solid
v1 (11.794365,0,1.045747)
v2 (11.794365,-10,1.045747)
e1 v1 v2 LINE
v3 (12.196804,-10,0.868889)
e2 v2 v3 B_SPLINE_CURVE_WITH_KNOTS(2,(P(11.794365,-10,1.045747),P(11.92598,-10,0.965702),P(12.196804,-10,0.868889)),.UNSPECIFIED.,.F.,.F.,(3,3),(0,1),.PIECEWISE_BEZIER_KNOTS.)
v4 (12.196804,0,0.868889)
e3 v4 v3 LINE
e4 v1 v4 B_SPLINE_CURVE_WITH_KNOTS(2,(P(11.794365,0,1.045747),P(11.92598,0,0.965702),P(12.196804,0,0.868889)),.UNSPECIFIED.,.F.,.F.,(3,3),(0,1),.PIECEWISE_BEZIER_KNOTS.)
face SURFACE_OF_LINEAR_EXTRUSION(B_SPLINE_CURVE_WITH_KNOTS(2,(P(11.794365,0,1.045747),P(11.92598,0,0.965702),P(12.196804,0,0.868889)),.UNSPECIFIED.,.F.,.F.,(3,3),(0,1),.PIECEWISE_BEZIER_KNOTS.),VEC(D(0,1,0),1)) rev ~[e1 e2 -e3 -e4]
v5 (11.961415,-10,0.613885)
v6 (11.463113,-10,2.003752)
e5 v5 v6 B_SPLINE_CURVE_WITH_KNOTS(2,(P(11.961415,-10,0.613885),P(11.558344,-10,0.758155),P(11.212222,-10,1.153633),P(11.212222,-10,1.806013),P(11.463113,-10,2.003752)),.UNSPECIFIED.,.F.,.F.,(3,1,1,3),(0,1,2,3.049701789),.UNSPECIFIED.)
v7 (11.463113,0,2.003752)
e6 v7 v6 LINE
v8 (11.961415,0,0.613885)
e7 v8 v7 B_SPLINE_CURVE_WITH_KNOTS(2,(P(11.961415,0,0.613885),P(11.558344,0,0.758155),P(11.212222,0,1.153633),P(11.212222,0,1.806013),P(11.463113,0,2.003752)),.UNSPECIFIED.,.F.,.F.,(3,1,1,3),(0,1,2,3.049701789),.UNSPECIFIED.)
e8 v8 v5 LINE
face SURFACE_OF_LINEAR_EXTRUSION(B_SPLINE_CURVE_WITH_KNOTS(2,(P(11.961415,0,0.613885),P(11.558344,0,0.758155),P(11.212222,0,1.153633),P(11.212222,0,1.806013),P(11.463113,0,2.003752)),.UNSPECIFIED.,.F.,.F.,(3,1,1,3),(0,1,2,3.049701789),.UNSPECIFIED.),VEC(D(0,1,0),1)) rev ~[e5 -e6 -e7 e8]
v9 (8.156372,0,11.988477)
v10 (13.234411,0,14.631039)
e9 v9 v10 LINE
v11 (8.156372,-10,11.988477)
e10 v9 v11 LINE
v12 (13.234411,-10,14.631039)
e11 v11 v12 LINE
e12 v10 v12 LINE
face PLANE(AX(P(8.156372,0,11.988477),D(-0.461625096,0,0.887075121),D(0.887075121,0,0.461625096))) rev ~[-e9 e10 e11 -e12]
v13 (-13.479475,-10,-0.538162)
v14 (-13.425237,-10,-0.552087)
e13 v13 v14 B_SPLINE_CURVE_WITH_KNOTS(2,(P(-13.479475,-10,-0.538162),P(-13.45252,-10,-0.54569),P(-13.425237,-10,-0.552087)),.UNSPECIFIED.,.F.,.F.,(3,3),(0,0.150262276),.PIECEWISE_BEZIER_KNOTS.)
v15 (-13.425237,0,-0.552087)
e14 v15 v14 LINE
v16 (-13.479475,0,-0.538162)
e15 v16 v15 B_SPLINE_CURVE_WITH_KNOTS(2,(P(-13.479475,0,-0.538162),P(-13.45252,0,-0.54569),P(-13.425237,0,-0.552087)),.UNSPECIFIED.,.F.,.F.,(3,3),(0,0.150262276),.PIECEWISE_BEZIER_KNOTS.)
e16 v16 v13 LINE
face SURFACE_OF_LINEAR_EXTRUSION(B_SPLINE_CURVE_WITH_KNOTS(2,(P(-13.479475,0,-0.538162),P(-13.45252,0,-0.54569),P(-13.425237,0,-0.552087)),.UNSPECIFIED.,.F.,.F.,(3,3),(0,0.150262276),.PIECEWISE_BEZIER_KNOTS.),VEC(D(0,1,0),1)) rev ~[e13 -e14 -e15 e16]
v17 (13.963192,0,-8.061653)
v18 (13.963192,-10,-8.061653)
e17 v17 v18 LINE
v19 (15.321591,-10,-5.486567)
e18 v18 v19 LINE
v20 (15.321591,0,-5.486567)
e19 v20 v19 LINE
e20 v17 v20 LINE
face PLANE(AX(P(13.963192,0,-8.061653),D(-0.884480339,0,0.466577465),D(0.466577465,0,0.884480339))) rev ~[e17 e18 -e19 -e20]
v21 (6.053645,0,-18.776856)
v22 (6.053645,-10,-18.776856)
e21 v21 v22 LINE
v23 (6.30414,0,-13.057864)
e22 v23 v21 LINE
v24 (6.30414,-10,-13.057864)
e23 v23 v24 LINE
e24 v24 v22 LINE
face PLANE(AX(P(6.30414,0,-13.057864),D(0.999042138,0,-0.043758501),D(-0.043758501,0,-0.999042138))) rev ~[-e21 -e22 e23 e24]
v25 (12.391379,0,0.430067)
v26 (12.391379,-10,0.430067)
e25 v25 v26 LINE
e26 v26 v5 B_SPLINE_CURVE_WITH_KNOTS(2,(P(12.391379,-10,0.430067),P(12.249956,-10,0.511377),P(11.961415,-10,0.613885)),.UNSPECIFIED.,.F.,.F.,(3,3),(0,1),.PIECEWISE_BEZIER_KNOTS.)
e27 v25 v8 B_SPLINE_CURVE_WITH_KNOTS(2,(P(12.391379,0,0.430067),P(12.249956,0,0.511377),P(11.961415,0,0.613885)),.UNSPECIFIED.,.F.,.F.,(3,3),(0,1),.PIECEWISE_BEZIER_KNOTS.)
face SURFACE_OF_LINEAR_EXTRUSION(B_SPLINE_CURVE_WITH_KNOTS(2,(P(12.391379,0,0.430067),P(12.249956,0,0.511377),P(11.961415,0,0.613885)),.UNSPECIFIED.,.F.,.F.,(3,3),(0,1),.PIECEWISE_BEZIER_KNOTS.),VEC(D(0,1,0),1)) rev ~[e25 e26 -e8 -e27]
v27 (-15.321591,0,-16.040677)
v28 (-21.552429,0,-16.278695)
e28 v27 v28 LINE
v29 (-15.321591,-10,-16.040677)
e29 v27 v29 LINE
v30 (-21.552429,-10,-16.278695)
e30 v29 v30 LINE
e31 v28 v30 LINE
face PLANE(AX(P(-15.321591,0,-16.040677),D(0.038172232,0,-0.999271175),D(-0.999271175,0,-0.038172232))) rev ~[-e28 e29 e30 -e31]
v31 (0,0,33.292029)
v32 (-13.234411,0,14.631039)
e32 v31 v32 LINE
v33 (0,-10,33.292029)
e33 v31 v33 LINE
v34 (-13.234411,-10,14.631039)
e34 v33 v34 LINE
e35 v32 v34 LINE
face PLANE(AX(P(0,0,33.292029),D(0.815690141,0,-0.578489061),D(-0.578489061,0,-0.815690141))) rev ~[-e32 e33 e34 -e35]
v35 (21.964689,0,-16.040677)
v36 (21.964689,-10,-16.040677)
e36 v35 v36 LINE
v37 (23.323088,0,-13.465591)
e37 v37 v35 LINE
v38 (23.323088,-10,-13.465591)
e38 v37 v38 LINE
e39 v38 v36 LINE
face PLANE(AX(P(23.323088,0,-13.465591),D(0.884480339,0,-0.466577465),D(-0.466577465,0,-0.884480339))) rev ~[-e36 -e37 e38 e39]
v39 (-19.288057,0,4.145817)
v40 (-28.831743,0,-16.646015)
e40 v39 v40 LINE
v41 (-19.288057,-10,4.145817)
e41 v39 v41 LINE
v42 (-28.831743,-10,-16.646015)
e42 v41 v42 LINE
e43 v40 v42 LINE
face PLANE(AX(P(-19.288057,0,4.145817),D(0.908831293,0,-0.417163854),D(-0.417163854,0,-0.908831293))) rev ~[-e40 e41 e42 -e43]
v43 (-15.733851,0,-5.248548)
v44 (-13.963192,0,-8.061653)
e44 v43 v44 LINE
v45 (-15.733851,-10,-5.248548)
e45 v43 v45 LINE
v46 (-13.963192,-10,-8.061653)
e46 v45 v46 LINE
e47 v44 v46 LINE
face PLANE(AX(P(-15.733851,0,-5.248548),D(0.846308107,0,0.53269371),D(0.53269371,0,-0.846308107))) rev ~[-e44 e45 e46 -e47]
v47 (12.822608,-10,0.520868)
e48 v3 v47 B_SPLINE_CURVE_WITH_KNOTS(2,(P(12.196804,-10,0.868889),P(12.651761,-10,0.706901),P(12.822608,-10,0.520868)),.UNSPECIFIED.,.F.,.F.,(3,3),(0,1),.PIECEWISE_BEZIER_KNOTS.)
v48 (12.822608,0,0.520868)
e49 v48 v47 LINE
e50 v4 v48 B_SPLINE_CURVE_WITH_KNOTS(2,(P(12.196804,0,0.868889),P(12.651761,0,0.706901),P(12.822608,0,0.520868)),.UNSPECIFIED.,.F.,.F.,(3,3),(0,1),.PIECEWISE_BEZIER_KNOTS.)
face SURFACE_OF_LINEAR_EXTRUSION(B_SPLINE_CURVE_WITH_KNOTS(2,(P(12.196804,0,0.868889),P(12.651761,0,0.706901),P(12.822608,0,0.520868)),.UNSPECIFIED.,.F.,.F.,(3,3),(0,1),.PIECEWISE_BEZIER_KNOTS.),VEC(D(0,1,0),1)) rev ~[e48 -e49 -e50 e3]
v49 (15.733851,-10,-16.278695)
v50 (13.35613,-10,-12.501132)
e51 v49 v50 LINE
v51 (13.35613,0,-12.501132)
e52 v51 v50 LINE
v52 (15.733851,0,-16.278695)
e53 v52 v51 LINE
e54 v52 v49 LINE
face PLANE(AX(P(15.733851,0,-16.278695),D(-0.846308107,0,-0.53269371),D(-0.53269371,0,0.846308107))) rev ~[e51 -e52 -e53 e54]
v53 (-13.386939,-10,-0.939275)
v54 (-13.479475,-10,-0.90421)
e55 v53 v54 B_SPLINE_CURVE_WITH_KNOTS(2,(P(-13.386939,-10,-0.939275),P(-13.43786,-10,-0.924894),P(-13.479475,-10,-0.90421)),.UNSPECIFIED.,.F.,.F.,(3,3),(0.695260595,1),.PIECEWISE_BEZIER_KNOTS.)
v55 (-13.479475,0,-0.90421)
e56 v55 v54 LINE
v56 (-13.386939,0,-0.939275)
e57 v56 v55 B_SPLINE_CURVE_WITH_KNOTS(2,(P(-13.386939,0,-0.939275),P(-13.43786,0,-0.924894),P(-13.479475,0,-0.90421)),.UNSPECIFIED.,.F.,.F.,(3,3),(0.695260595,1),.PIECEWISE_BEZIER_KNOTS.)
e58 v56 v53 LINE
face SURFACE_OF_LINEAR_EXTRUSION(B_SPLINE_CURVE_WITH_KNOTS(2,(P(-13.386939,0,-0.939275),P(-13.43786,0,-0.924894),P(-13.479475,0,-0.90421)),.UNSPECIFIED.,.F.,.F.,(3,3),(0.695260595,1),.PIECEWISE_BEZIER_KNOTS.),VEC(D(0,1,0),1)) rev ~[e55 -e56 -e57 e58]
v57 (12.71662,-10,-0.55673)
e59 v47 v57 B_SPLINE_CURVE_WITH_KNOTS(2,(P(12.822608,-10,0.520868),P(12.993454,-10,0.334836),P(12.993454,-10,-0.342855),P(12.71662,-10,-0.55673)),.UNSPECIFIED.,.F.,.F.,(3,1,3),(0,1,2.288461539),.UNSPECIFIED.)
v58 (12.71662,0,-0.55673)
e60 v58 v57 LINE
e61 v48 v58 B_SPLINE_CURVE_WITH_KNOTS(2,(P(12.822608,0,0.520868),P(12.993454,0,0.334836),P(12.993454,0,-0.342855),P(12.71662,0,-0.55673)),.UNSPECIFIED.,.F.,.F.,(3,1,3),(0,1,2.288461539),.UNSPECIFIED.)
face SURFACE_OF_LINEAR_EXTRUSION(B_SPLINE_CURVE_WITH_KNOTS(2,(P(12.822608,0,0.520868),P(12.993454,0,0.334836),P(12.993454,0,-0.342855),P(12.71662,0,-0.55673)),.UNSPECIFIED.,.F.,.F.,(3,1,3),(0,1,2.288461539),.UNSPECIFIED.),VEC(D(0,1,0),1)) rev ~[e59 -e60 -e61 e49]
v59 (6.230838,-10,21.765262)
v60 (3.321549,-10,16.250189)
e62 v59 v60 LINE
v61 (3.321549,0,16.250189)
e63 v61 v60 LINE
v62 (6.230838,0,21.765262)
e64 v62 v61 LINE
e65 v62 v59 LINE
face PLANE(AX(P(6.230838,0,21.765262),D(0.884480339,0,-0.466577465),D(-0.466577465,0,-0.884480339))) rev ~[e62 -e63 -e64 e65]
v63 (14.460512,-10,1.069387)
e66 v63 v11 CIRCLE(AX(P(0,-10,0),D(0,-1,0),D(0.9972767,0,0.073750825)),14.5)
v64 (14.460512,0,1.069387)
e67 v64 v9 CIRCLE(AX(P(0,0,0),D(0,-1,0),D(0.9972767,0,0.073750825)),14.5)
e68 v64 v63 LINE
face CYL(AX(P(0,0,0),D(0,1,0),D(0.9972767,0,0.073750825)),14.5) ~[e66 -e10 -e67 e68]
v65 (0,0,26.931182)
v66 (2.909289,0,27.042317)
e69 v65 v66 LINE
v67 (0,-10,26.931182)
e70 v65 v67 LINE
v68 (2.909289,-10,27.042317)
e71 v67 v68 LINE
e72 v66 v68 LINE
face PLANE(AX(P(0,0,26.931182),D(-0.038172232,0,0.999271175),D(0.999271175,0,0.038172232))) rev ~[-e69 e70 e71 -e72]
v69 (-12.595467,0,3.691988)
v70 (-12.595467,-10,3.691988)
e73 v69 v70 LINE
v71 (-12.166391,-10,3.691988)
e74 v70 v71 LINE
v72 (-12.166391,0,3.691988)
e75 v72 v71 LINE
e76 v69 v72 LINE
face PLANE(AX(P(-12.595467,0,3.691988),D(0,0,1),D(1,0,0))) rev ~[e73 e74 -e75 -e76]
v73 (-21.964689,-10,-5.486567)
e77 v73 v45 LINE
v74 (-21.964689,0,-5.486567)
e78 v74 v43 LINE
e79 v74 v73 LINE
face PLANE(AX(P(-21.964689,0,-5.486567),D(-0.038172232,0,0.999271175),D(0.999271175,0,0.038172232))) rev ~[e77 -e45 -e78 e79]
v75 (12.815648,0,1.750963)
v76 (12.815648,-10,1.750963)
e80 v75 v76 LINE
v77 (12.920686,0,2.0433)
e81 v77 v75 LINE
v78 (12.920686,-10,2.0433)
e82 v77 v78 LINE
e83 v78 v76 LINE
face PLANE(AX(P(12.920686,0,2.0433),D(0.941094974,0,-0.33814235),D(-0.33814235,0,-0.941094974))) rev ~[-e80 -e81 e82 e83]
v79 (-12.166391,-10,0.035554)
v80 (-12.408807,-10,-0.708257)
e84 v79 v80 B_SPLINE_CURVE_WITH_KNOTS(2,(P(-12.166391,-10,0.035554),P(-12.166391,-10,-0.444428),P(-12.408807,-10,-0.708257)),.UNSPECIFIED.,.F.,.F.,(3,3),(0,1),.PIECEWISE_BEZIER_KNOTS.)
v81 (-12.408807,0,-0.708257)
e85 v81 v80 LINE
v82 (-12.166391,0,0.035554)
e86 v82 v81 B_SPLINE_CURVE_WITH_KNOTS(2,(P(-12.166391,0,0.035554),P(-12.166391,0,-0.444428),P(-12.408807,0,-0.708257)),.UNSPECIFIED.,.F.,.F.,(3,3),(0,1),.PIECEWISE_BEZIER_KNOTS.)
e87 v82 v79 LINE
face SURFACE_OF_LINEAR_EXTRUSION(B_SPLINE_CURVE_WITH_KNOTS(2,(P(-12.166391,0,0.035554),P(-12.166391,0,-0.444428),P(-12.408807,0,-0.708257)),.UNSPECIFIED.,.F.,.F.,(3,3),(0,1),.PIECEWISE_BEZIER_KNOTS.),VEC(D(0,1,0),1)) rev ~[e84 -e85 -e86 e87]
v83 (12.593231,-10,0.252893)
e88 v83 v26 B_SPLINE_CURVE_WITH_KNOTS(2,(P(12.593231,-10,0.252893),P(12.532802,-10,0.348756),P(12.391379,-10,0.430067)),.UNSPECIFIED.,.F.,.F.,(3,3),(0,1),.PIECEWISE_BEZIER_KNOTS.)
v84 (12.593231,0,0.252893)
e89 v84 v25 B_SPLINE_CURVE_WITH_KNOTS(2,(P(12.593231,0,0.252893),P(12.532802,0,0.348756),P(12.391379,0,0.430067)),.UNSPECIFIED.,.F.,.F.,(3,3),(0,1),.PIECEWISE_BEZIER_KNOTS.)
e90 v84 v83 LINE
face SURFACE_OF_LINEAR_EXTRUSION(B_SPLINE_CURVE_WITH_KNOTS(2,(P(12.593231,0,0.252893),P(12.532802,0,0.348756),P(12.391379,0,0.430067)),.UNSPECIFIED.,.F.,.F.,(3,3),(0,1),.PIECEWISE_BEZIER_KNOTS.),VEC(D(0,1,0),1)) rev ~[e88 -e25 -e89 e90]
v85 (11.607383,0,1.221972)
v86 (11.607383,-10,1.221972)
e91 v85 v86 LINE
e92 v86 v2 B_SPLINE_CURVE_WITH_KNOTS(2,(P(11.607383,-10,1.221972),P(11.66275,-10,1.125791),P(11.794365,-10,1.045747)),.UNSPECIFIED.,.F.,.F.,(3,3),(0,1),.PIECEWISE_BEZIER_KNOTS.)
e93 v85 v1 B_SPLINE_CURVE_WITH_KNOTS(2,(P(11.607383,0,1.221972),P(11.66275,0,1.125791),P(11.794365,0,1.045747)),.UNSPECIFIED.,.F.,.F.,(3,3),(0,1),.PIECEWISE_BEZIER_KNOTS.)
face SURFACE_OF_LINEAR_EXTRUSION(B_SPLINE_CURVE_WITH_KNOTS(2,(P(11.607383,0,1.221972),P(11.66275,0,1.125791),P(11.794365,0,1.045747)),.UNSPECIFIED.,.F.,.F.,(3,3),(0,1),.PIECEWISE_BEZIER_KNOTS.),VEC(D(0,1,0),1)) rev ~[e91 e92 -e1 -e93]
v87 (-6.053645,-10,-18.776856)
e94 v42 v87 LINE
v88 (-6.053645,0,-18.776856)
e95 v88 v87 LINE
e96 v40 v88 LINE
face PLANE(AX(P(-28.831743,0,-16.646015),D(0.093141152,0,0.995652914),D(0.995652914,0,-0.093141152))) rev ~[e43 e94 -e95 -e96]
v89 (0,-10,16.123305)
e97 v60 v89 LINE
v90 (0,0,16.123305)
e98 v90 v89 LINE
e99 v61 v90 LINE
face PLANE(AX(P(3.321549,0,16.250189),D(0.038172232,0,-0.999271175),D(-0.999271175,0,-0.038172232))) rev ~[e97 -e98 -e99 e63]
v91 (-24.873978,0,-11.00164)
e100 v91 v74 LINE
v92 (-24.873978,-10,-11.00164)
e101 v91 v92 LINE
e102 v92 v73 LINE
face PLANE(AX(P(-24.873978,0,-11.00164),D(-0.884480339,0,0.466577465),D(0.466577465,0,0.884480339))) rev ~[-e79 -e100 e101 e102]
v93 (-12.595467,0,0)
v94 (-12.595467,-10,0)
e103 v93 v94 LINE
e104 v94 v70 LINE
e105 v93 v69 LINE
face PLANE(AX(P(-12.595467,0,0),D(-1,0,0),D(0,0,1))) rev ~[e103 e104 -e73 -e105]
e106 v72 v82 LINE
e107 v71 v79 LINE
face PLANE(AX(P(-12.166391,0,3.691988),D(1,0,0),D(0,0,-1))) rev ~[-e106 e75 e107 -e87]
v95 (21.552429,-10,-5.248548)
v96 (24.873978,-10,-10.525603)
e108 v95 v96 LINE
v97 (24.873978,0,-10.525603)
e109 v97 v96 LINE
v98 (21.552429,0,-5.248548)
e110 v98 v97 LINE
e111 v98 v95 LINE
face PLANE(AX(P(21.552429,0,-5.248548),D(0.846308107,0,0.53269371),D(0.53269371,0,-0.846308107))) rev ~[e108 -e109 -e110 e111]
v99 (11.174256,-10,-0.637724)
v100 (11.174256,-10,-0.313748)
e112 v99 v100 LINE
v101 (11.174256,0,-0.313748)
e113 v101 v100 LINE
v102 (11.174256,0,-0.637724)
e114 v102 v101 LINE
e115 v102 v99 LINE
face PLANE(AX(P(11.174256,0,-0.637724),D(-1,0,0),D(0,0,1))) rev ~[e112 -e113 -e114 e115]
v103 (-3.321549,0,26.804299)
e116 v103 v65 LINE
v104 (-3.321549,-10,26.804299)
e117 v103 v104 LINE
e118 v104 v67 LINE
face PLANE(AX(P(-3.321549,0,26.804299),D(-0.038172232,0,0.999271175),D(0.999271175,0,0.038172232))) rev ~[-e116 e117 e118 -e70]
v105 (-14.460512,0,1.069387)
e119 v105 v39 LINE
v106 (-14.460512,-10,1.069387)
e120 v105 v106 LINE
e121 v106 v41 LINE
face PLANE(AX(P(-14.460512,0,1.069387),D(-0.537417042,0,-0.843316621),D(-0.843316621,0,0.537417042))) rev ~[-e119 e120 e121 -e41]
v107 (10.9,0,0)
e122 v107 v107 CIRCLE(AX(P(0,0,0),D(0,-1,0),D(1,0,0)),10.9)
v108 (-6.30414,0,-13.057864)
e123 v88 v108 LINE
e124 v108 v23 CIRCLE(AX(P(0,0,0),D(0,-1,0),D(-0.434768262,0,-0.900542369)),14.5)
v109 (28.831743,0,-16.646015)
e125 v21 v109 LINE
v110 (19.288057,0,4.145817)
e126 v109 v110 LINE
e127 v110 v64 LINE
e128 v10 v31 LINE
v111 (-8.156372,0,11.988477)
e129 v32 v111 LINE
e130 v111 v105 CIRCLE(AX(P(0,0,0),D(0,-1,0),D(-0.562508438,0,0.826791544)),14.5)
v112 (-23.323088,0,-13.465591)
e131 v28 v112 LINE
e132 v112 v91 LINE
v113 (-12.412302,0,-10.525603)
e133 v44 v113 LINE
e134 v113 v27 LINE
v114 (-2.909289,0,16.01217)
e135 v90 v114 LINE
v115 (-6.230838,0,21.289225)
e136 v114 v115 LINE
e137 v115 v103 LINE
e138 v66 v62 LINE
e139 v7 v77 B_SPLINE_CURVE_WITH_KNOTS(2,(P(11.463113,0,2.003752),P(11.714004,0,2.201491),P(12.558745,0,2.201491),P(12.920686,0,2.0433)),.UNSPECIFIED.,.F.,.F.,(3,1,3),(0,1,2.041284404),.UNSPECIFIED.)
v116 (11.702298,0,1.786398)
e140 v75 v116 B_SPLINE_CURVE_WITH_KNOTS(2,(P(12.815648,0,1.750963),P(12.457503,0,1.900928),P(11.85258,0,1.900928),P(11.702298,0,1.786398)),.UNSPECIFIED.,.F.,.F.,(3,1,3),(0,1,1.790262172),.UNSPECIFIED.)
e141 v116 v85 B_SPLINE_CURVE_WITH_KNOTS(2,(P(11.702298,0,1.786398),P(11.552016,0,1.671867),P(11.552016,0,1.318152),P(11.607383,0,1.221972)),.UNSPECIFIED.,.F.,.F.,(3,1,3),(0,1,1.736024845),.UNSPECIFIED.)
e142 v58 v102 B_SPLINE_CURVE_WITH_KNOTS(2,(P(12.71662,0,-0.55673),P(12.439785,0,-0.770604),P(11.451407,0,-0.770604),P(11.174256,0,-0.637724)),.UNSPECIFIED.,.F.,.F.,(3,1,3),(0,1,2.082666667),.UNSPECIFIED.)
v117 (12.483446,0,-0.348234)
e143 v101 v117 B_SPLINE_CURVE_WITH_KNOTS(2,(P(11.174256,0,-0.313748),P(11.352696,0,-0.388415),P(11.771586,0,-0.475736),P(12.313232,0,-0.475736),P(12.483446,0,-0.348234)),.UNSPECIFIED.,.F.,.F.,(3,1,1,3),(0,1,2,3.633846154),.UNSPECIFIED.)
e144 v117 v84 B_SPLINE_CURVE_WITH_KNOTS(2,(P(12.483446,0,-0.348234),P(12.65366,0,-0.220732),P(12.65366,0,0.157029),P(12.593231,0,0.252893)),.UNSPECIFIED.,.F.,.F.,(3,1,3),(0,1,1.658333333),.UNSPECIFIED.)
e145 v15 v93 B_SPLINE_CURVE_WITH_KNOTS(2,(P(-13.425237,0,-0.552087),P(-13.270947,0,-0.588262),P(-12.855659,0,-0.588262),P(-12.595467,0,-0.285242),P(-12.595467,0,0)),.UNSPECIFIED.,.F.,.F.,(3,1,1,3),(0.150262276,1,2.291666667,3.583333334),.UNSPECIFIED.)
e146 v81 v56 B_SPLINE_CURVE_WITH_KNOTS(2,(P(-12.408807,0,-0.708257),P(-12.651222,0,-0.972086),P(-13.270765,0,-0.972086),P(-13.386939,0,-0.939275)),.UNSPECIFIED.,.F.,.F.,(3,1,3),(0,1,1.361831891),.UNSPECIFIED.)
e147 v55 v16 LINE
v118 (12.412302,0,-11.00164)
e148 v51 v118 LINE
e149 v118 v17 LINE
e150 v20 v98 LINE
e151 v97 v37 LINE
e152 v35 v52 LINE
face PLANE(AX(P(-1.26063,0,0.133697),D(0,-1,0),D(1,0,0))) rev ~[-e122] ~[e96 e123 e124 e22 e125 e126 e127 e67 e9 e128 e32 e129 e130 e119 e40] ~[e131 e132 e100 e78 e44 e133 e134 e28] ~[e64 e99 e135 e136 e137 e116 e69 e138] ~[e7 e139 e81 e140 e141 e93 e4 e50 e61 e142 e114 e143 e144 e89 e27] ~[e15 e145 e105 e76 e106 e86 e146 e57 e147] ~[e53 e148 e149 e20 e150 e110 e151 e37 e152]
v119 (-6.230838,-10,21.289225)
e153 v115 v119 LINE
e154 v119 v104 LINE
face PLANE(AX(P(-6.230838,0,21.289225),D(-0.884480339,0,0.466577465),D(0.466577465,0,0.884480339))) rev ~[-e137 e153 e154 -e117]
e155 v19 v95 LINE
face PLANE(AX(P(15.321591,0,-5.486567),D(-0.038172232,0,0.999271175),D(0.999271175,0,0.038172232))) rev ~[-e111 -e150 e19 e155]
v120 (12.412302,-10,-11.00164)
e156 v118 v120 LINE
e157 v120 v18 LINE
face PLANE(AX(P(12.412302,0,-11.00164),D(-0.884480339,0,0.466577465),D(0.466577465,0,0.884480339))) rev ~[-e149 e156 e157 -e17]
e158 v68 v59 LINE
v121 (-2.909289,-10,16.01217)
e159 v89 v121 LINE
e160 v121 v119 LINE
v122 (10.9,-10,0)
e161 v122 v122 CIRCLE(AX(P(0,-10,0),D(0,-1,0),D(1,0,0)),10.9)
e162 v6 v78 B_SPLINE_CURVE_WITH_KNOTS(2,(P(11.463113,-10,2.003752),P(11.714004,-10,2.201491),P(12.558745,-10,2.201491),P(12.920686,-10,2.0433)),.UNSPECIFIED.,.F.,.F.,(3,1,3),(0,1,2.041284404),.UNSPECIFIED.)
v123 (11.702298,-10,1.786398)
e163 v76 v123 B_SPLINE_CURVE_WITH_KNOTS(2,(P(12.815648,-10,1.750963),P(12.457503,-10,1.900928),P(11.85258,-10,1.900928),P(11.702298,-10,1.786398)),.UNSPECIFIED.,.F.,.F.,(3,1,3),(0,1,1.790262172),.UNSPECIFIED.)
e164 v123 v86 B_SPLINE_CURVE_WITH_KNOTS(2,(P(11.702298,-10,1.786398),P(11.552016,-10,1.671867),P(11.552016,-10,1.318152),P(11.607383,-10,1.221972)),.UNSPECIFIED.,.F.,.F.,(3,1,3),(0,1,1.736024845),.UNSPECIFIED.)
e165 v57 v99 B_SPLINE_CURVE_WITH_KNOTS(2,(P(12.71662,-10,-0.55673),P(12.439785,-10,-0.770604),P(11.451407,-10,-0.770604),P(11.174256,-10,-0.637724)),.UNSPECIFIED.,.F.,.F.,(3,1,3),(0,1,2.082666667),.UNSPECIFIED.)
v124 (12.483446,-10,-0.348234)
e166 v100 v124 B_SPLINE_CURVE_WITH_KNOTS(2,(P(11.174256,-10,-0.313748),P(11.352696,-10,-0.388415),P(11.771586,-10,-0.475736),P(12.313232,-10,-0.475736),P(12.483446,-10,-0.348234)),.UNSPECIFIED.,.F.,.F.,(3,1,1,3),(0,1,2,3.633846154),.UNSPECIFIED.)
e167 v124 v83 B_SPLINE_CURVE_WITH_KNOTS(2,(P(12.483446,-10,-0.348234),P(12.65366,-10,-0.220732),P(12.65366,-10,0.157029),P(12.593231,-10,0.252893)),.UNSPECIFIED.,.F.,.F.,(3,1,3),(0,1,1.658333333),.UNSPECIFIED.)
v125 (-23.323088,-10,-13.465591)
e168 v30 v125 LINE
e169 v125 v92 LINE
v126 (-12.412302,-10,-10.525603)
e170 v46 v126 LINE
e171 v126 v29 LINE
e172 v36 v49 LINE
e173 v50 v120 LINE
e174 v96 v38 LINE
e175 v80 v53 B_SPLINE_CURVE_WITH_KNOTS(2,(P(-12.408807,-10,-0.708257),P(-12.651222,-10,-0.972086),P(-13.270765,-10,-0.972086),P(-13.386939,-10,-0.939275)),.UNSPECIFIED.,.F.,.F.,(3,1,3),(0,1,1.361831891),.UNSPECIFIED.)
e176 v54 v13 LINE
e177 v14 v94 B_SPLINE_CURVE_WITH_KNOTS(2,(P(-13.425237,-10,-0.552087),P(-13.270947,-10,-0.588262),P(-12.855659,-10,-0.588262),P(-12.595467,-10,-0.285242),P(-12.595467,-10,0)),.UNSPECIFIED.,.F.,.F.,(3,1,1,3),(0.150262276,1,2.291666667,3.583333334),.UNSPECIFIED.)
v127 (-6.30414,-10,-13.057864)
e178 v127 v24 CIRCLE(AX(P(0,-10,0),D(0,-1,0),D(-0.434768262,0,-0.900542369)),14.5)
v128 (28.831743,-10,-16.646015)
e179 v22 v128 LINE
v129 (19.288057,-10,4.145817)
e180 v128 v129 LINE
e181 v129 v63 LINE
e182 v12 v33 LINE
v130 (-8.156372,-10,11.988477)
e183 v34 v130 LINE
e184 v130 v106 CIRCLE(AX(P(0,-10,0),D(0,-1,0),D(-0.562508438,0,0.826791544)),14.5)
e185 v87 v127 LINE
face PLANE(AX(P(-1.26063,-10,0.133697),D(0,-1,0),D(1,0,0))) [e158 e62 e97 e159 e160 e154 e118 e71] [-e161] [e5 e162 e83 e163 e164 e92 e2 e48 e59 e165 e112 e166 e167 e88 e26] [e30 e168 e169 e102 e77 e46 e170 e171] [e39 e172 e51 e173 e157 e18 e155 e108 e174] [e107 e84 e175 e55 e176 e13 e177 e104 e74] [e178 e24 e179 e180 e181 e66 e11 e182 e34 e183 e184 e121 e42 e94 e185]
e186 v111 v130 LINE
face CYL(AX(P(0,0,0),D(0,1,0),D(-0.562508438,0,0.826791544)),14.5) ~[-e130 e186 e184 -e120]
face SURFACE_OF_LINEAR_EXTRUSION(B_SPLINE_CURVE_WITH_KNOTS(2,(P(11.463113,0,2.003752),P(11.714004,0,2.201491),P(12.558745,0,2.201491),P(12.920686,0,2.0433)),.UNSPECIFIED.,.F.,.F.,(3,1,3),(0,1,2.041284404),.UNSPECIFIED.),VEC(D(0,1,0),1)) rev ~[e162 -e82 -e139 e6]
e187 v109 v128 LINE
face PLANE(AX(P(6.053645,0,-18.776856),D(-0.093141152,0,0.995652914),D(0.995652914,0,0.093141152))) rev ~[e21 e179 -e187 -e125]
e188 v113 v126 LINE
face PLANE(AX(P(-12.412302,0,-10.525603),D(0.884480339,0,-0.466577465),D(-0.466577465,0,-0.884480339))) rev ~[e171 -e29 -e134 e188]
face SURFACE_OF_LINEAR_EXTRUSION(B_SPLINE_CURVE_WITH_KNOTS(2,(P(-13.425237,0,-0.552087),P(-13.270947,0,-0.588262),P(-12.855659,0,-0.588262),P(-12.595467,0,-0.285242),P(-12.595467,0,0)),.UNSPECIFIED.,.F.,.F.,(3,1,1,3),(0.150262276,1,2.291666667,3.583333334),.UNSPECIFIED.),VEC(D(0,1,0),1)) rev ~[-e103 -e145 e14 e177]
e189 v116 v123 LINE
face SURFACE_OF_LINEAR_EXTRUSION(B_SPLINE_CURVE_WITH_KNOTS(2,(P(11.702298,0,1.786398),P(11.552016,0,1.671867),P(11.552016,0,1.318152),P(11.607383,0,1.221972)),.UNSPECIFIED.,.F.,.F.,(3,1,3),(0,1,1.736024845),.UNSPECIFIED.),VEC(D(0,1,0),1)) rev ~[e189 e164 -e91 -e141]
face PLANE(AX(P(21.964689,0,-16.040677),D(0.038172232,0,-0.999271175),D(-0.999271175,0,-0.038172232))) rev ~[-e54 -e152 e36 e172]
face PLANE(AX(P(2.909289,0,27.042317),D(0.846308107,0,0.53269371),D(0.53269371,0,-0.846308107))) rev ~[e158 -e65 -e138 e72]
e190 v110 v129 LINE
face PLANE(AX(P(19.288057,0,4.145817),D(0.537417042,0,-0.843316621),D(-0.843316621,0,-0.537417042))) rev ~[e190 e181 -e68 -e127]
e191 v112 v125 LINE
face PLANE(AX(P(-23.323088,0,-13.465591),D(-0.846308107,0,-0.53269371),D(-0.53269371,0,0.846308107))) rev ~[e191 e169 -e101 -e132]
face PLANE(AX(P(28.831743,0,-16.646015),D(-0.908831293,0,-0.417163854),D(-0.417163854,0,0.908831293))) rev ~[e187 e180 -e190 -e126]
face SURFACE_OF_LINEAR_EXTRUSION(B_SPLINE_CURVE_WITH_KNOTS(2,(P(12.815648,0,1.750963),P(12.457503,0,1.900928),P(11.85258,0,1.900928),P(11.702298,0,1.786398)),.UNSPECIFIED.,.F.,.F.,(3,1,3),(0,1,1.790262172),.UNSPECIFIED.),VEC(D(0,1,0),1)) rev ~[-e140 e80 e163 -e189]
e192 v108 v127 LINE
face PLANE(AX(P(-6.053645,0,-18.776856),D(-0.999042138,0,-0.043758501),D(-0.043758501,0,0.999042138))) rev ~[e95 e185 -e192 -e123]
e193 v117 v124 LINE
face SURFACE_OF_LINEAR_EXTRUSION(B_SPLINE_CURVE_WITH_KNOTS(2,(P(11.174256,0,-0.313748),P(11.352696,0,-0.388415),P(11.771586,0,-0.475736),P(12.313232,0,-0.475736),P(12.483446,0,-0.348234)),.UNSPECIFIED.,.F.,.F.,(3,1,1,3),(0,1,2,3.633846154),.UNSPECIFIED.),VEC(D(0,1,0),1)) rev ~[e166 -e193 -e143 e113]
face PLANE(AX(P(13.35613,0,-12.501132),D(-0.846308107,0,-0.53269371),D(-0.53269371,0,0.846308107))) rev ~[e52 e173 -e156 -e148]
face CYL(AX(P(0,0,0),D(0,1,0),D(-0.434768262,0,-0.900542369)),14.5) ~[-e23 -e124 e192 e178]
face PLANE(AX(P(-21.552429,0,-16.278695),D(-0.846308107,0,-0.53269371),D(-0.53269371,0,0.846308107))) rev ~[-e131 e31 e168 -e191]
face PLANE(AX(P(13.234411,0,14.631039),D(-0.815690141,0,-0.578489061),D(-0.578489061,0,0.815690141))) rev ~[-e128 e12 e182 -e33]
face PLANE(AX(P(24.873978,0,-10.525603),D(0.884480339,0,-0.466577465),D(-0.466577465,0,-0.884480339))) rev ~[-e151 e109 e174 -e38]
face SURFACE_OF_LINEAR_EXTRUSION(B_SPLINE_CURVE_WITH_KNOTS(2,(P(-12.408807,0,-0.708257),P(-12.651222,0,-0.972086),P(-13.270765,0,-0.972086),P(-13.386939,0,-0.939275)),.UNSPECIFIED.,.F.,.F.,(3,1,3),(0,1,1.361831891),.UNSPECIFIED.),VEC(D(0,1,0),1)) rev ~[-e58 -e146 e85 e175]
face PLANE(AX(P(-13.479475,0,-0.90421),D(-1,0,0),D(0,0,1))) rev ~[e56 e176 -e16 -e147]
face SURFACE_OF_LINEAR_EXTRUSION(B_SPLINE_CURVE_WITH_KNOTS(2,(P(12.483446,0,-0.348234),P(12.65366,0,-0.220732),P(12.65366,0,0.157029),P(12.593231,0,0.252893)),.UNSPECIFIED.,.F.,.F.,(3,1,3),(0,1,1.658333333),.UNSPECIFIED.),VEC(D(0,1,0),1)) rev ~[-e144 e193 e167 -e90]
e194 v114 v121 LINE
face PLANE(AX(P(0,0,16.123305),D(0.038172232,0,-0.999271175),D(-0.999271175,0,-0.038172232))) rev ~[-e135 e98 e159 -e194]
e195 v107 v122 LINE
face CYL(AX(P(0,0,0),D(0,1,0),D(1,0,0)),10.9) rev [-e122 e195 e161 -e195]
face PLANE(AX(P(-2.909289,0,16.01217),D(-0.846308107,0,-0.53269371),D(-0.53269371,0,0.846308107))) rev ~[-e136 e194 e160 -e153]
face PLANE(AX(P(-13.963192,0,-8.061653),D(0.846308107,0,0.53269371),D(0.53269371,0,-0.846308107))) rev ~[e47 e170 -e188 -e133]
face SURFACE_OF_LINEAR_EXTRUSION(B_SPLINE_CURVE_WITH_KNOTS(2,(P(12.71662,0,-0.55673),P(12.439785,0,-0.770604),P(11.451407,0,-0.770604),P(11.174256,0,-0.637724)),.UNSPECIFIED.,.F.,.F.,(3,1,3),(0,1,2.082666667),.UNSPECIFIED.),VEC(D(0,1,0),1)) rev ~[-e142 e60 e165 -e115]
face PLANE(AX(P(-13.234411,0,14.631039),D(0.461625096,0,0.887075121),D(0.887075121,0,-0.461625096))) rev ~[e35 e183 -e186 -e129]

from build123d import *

# Parameters (mm, degrees)
F0_R     = 10.9
F1_DEPTH = 10


with BuildPart() as f1:
    # F0 (on Front) → F1 (new body)
    with BuildSketch(Plane.XZ):
        with BuildLine():
            Line((7.174170576, 11.477349326), (0.5159462476, 14.490817764))
            ThreePointArc((0.5159462476, 14.490817764), (0.2580139744, 14.4977042593), (0, 14.5))
            ThreePointArc((0, 14.5), (-0.2580139744, 14.4977042593), (-0.5159462476, 14.490817764))
            Line((-0.5159462476, 14.490817764), (-7.174170576, 11.477349326))
            Line((-7.174170576, 11.477349326), (-8.1563723499, 11.9884773883))
            ThreePointArc((-8.1563723499, 11.9884773883), (-12.5573683549, 7.25), (-14.4605121459, 1.0693869636))
            Line((-14.4605121459, 1.0693869636), (-13.5267613725, 0.4743393069))
            Line((-13.5267613725, 0.4743393069), (-13.4252365556, -0.5520872158))
            add(Edge.make_bspline(
                [(-13.4252365556, -0.5520872158), (-13.2709471232, -0.5882615523), (-13.1061554641, -0.5882615523)],
                knots=[0.1502622758, 0.1502622758, 0.1502622758, 1, 1, 1], degree=2))
            add(Edge.make_bspline(
                [(-13.1061554641, -0.5882615523), (-12.8556594734, -0.5882615523), (-12.7255631686, -0.4367518805)],
                knots=[0, 0, 0, 1, 1, 1], degree=2))
            add(Edge.make_bspline(
                [(-12.7255631686, -0.4367518805), (-12.5954668638, -0.2852422087), (-12.5954668638, 0)],
                knots=[0, 0, 0, 1, 1, 1], degree=2))
            Line((-12.5954668638, 0), (-12.5954668638, 3.6919876817))
            Line((-12.5954668638, 3.6919876817), (-12.1663914733, 3.6919876817))
            Line((-12.1663914733, 3.6919876817), (-12.1663914733, 0.0355542696))
            add(Edge.make_bspline(
                [(-12.1663914733, 0.0355542696), (-12.1663914733, -0.4444283705), (-12.4088069482, -0.7082572123)],
                knots=[0, 0, 0, 1, 1, 1], degree=2))
            add(Edge.make_bspline(
                [(-12.4088069482, -0.7082572123), (-12.651222423, -0.9720860541), (-13.1061554641, -0.9720860541)],
                knots=[0, 0, 0, 1, 1, 1], degree=2))
            add(Edge.make_bspline(
                [(-13.1061554641, -0.9720860541), (-13.2707647465, -0.9720860541), (-13.386939397, -0.9392754971)],
                knots=[0, 0, 0, 0.6952605952, 0.6952605952, 0.6952605952], degree=2))
            Line((-13.386939397, -0.9392754971), (-12.807389429, -6.7985863246))
            ThreePointArc((-12.807389429, -6.7985863246), (-12.6843871723, -7.0254054733), (-12.5573683549, -7.25))
            ThreePointArc((-12.5573683549, -7.25), (-12.4263731979, -7.472298786), (-12.2914431814, -7.6922314394))
            Line((-12.2914431814, -7.6922314394), (-6.3525907964, -11.9516886329))
            Line((-6.3525907964, -11.9516886329), (-6.304139796, -13.0578643519))
            ThreePointArc((-6.304139796, -13.0578643519), (0, -14.5), (6.304139796, -13.0578643519))
            Line((6.304139796, -13.0578643519), (6.3525907964, -11.9516886329))
            Line((6.3525907964, -11.9516886329), (12.2914431814, -7.6922314394))
            ThreePointArc((12.2914431814, -7.6922314394), (12.4263731979, -7.472298786), (12.5573683549, -7.25))
            ThreePointArc((12.5573683549, -7.25), (12.6843871723, -7.0254054733), (12.807389429, -6.7985863246))
            Line((12.807389429, -6.7985863246), (13.5267613725, 0.4743393069))
            Line((13.5267613725, 0.4743393069), (14.4605121459, 1.0693869636))
            ThreePointArc((14.4605121459, 1.0693869636), (12.5573683549, 7.25), (8.1563723499, 11.9884773883))
            Line((8.1563723499, 11.9884773883), (7.174170576, 11.477349326))
        make_face()
        Circle(F0_R, mode=Mode.SUBTRACT)
        with BuildLine():
            add(Edge.make_bspline(
                [(12.8226079532, 0.5208683426), (12.9934544173, 0.3348355262), (12.9934544173, 0.0387016553)],
                knots=[0, 0, 0, 1, 1, 1], degree=2))
            add(Edge.make_bspline(
                [(12.9934544173, 0.0387016553), (12.9934544173, -0.3428554477), (12.7166198691, -0.55672991)],
                knots=[0, 0, 0, 1, 1, 1], degree=2))
            add(Edge.make_bspline(
                [(12.7166198691, -0.55672991), (12.4397853209, -0.7706043724), (11.9652118098, -0.7706043724)],
                knots=[0, 0, 0, 1, 1, 1], degree=2))
            add(Edge.make_bspline(
                [(11.9652118098, -0.7706043724), (11.4514068883, -0.7706043724), (11.1742559578, -0.6377237893)],
                knots=[0, 0, 0, 1, 1, 1], degree=2))
            Line((11.1742559578, -0.6377237893), (11.1742559578, -0.3137482723))
            add(Edge.make_bspline(
                [(11.1742559578, -0.3137482723), (11.352695598, -0.3884145048), (11.5621407076, -0.4320752678)],
                knots=[0, 0, 0, 1, 1, 1], degree=2))
            add(Edge.make_bspline(
                [(11.5621407076, -0.4320752678), (11.7715858172, -0.4757360308), (11.9772343387, -0.4757360308)],
                knots=[0, 0, 0, 1, 1, 1], degree=2))
            add(Edge.make_bspline(
                [(11.9772343387, -0.4757360308), (12.3132323846, -0.4757360308), (12.4834460839, -0.3482339475)],
                knots=[0, 0, 0, 1, 1, 1], degree=2))
            add(Edge.make_bspline(
                [(12.4834460839, -0.3482339475), (12.6536597833, -0.2207318641), (12.6536597833, 0.0070634212)],
                knots=[0, 0, 0, 1, 1, 1], degree=2))
            add(Edge.make_bspline(
                [(12.6536597833, 0.0070634212), (12.6536597833, 0.1570286507), (12.5932307562, 0.2528925)],
                knots=[0, 0, 0, 1, 1, 1], degree=2))
            add(Edge.make_bspline(
                [(12.5932307562, 0.2528925), (12.5328017291, 0.3487563492), (12.3913788228, 0.4300666108)],
                knots=[0, 0, 0, 1, 1, 1], degree=2))
            add(Edge.make_bspline(
                [(12.3913788228, 0.4300666108), (12.2499559164, 0.5113768724), (11.9614152217, 0.6138847508)],
                knots=[0, 0, 0, 1, 1, 1], degree=2))
            add(Edge.make_bspline(
                [(11.9614152217, 0.6138847508), (11.5583441195, 0.7581550982), (11.3852829791, 0.9558940612)],
                knots=[0, 0, 0, 1, 1, 1], degree=2))
            add(Edge.make_bspline(
                [(11.3852829791, 0.9558940612), (11.2122218387, 1.1536330242), (11.2122218387, 1.471913659)],
                knots=[0, 0, 0, 1, 1, 1], degree=2))
            add(Edge.make_bspline(
                [(11.2122218387, 1.471913659), (11.2122218387, 1.8060134108), (11.4631130349, 2.0037523738)],
                knots=[0, 0, 0, 1, 1, 1], degree=2))
            add(Edge.make_bspline(
                [(11.4631130349, 2.0037523738), (11.7140042312, 2.2014913368), (12.1278323329, 2.2014913368)],
                knots=[0, 0, 0, 1, 1, 1], degree=2))
            add(Edge.make_bspline(
                [(12.1278323329, 2.2014913368), (12.558745081, 2.2014913368), (12.9206864789, 2.0433001664)],
                knots=[0, 0, 0, 1, 1, 1], degree=2))
            Line((12.9206864789, 2.0433001664), (12.8156475417, 1.7509628835))
            add(Edge.make_bspline(
                [(12.8156475417, 1.7509628835), (12.457502732, 1.9009281131), (12.119606392, 1.9009281131)],
                knots=[0, 0, 0, 1, 1, 1], degree=2))
            add(Edge.make_bspline(
                [(12.119606392, 1.9009281131), (11.8525796964, 1.9009281131), (11.7022980846, 1.7863977057)],
                knots=[0, 0, 0, 1, 1, 1], degree=2))
            add(Edge.make_bspline(
                [(11.7022980846, 1.7863977057), (11.5520164727, 1.6718672983), (11.5520164727, 1.4681170709)],
                knots=[0, 0, 0, 1, 1, 1], degree=2))
            add(Edge.make_bspline(
                [(11.5520164727, 1.4681170709), (11.5520164727, 1.3181518414), (11.6073833823, 1.2219716098)],
                knots=[0, 0, 0, 1, 1, 1], degree=2))
            add(Edge.make_bspline(
                [(11.6073833823, 1.2219716098), (11.662750292, 1.1257913782), (11.7943653457, 1.045746646)],
                knots=[0, 0, 0, 1, 1, 1], degree=2))
            add(Edge.make_bspline(
                [(11.7943653457, 1.045746646), (11.9259803995, 0.9657019137), (12.1968036832, 0.8688889175)],
                knots=[0, 0, 0, 1, 1, 1], degree=2))
            add(Edge.make_bspline(
                [(12.1968036832, 0.8688889175), (12.6517614892, 0.706901159), (12.8226079532, 0.5208683426)],
                knots=[0, 0, 0, 1, 1, 1], degree=2))
        make_face(mode=Mode.SUBTRACT)
        with BuildLine():
            ThreePointArc((0, 14.5), (0.2580139744, 14.4977042593), (0.5159462476, 14.490817764))
            Line((0.5159462476, 14.490817764), (7.174170576, 11.477349326))
            Line((7.174170576, 11.477349326), (8.1563723499, 11.9884773883))
            Line((8.1563723499, 11.9884773883), (13.2344113663, 14.6310385317))
            Line((13.2344113663, 14.6310385317), (0, 33.292029053))
            Line((0, 33.292029053), (0, 26.9311823049))
            Line((0, 26.9311823049), (2.9092891492, 27.0423173629))
            Line((2.9092891492, 27.0423173629), (6.2308384028, 21.7652622603))
            Line((6.2308384028, 21.7652622603), (3.3215492536, 16.2501886755))
            Line((3.3215492536, 16.2501886755), (0, 16.1233052513))
            Line((0, 16.1233052513), (0, 14.5))
        make_face()
        with BuildLine():
            ThreePointArc((-0.5159462476, 14.490817764), (-0.2580139744, 14.4977042593), (0, 14.5))
            Line((0, 14.5), (0, 16.1233052513))
            Line((0, 16.1233052513), (-2.9092891492, 16.0121701933))
            Line((-2.9092891492, 16.0121701933), (-6.2308384028, 21.2892252959))
            Line((-6.2308384028, 21.2892252959), (-3.3215492536, 26.8042988807))
            Line((-3.3215492536, 26.8042988807), (0, 26.9311823049))
            Line((0, 26.9311823049), (0, 33.292029053))
            Line((0, 33.292029053), (-13.2344113663, 14.6310385317))
            Line((-13.2344113663, 14.6310385317), (-8.1563723499, 11.9884773883))
            Line((-8.1563723499, 11.9884773883), (-7.174170576, 11.477349326))
            Line((-7.174170576, 11.477349326), (-0.5159462476, 14.490817764))
        make_face()
        with BuildLine():
            Line((19.2880567353, 4.1458171815), (14.4605121459, 1.0693869636))
            Line((14.4605121459, 1.0693869636), (13.5267613725, 0.4743393069))
            Line((13.5267613725, 0.4743393069), (12.807389429, -6.7985863246))
            ThreePointArc((12.807389429, -6.7985863246), (12.6843871723, -7.0254054733), (12.5573683549, -7.25))
            Line((12.5573683549, -7.25), (13.9631919406, -8.0616526257))
            Line((13.9631919406, -8.0616526257), (15.3215907317, -5.4865667864))
            Line((15.3215907317, -5.4865667864), (21.5524291345, -5.2485483042))
            Line((21.5524291345, -5.2485483042), (24.8739783881, -10.5256034068))
            Line((24.8739783881, -10.5256034068), (23.32308803, -13.4655911524))
            Line((23.32308803, -13.4655911524), (28.8317429034, -16.6460145265))
            Line((28.8317429034, -16.6460145265), (19.2880567353, 4.1458171815))
        make_face()
        with BuildLine():
            Line((-13.5267613725, 0.4743393069), (-14.4605121459, 1.0693869636))
            Line((-14.4605121459, 1.0693869636), (-19.2880567353, 4.1458171815))
            Line((-19.2880567353, 4.1458171815), (-28.8317429034, -16.6460145265))
            Line((-28.8317429034, -16.6460145265), (-23.32308803, -13.4655911524))
            Line((-23.32308803, -13.4655911524), (-24.8739783881, -11.0016403713))
            Line((-24.8739783881, -11.0016403713), (-21.9646892389, -5.4865667864))
            Line((-21.9646892389, -5.4865667864), (-15.7338508361, -5.2485483042))
            Line((-15.7338508361, -5.2485483042), (-13.9631919406, -8.0616526257))
            Line((-13.9631919406, -8.0616526257), (-12.5573683549, -7.25))
            ThreePointArc((-12.5573683549, -7.25), (-12.6843871723, -7.0254054733), (-12.807389429, -6.7985863246))
            Line((-12.807389429, -6.7985863246), (-13.386939397, -0.9392754971))
            add(Edge.make_bspline(
                [(-13.386939397, -0.9392754971), (-13.4378598636, -0.9248943144), (-13.4794752953, -0.9042097211)],
                knots=[0.6952605952, 0.6952605952, 0.6952605952, 1, 1, 1], degree=2))
            Line((-13.4794752953, -0.9042097211), (-13.4794752953, -0.5381623541))
            add(Edge.make_bspline(
                [(-13.4794752953, -0.5381623541), (-13.4525201287, -0.5456903737), (-13.4252365556, -0.5520872158)],
                knots=[0, 0, 0, 0.1502622758, 0.1502622758, 0.1502622758], degree=2))
            Line((-13.4252365556, -0.5520872158), (-13.5267613725, 0.4743393069))
        make_face()
        with BuildLine():
            Line((6.053645369, -18.7768557132), (28.8317429034, -16.6460145265))
            Line((28.8317429034, -16.6460145265), (23.32308803, -13.4655911524))
            Line((23.32308803, -13.4655911524), (21.9646892389, -16.0406769917))
            Line((21.9646892389, -16.0406769917), (15.7338508361, -16.2786954739))
            Line((15.7338508361, -16.2786954739), (13.3561301342, -12.5011319924))
            Line((13.3561301342, -12.5011319924), (12.4123015825, -11.0016403713))
            Line((12.4123015825, -11.0016403713), (13.9631919406, -8.0616526257))
            Line((13.9631919406, -8.0616526257), (12.5573683549, -7.25))
            ThreePointArc((12.5573683549, -7.25), (12.4263731979, -7.472298786), (12.2914431814, -7.6922314394))
            Line((12.2914431814, -7.6922314394), (6.3525907964, -11.9516886329))
            Line((6.3525907964, -11.9516886329), (6.304139796, -13.0578643519))
            Line((6.304139796, -13.0578643519), (6.053645369, -18.7768557132))
        make_face()
        with BuildLine():
            Line((-23.32308803, -13.4655911524), (-28.8317429034, -16.6460145265))
            Line((-28.8317429034, -16.6460145265), (-6.053645369, -18.7768557132))
            Line((-6.053645369, -18.7768557132), (-6.304139796, -13.0578643519))
            Line((-6.304139796, -13.0578643519), (-6.3525907964, -11.9516886329))
            Line((-6.3525907964, -11.9516886329), (-12.2914431814, -7.6922314394))
            ThreePointArc((-12.2914431814, -7.6922314394), (-12.4263731979, -7.472298786), (-12.5573683549, -7.25))
            Line((-12.5573683549, -7.25), (-13.9631919406, -8.0616526257))
            Line((-13.9631919406, -8.0616526257), (-12.4123015825, -10.5256034068))
            Line((-12.4123015825, -10.5256034068), (-15.3215907317, -16.0406769917))
            Line((-15.3215907317, -16.0406769917), (-21.5524291345, -16.2786954739))
            Line((-21.5524291345, -16.2786954739), (-23.32308803, -13.4655911524))
        make_face()
    extrude(amount=F1_DEPTH)


solid = f1.part
